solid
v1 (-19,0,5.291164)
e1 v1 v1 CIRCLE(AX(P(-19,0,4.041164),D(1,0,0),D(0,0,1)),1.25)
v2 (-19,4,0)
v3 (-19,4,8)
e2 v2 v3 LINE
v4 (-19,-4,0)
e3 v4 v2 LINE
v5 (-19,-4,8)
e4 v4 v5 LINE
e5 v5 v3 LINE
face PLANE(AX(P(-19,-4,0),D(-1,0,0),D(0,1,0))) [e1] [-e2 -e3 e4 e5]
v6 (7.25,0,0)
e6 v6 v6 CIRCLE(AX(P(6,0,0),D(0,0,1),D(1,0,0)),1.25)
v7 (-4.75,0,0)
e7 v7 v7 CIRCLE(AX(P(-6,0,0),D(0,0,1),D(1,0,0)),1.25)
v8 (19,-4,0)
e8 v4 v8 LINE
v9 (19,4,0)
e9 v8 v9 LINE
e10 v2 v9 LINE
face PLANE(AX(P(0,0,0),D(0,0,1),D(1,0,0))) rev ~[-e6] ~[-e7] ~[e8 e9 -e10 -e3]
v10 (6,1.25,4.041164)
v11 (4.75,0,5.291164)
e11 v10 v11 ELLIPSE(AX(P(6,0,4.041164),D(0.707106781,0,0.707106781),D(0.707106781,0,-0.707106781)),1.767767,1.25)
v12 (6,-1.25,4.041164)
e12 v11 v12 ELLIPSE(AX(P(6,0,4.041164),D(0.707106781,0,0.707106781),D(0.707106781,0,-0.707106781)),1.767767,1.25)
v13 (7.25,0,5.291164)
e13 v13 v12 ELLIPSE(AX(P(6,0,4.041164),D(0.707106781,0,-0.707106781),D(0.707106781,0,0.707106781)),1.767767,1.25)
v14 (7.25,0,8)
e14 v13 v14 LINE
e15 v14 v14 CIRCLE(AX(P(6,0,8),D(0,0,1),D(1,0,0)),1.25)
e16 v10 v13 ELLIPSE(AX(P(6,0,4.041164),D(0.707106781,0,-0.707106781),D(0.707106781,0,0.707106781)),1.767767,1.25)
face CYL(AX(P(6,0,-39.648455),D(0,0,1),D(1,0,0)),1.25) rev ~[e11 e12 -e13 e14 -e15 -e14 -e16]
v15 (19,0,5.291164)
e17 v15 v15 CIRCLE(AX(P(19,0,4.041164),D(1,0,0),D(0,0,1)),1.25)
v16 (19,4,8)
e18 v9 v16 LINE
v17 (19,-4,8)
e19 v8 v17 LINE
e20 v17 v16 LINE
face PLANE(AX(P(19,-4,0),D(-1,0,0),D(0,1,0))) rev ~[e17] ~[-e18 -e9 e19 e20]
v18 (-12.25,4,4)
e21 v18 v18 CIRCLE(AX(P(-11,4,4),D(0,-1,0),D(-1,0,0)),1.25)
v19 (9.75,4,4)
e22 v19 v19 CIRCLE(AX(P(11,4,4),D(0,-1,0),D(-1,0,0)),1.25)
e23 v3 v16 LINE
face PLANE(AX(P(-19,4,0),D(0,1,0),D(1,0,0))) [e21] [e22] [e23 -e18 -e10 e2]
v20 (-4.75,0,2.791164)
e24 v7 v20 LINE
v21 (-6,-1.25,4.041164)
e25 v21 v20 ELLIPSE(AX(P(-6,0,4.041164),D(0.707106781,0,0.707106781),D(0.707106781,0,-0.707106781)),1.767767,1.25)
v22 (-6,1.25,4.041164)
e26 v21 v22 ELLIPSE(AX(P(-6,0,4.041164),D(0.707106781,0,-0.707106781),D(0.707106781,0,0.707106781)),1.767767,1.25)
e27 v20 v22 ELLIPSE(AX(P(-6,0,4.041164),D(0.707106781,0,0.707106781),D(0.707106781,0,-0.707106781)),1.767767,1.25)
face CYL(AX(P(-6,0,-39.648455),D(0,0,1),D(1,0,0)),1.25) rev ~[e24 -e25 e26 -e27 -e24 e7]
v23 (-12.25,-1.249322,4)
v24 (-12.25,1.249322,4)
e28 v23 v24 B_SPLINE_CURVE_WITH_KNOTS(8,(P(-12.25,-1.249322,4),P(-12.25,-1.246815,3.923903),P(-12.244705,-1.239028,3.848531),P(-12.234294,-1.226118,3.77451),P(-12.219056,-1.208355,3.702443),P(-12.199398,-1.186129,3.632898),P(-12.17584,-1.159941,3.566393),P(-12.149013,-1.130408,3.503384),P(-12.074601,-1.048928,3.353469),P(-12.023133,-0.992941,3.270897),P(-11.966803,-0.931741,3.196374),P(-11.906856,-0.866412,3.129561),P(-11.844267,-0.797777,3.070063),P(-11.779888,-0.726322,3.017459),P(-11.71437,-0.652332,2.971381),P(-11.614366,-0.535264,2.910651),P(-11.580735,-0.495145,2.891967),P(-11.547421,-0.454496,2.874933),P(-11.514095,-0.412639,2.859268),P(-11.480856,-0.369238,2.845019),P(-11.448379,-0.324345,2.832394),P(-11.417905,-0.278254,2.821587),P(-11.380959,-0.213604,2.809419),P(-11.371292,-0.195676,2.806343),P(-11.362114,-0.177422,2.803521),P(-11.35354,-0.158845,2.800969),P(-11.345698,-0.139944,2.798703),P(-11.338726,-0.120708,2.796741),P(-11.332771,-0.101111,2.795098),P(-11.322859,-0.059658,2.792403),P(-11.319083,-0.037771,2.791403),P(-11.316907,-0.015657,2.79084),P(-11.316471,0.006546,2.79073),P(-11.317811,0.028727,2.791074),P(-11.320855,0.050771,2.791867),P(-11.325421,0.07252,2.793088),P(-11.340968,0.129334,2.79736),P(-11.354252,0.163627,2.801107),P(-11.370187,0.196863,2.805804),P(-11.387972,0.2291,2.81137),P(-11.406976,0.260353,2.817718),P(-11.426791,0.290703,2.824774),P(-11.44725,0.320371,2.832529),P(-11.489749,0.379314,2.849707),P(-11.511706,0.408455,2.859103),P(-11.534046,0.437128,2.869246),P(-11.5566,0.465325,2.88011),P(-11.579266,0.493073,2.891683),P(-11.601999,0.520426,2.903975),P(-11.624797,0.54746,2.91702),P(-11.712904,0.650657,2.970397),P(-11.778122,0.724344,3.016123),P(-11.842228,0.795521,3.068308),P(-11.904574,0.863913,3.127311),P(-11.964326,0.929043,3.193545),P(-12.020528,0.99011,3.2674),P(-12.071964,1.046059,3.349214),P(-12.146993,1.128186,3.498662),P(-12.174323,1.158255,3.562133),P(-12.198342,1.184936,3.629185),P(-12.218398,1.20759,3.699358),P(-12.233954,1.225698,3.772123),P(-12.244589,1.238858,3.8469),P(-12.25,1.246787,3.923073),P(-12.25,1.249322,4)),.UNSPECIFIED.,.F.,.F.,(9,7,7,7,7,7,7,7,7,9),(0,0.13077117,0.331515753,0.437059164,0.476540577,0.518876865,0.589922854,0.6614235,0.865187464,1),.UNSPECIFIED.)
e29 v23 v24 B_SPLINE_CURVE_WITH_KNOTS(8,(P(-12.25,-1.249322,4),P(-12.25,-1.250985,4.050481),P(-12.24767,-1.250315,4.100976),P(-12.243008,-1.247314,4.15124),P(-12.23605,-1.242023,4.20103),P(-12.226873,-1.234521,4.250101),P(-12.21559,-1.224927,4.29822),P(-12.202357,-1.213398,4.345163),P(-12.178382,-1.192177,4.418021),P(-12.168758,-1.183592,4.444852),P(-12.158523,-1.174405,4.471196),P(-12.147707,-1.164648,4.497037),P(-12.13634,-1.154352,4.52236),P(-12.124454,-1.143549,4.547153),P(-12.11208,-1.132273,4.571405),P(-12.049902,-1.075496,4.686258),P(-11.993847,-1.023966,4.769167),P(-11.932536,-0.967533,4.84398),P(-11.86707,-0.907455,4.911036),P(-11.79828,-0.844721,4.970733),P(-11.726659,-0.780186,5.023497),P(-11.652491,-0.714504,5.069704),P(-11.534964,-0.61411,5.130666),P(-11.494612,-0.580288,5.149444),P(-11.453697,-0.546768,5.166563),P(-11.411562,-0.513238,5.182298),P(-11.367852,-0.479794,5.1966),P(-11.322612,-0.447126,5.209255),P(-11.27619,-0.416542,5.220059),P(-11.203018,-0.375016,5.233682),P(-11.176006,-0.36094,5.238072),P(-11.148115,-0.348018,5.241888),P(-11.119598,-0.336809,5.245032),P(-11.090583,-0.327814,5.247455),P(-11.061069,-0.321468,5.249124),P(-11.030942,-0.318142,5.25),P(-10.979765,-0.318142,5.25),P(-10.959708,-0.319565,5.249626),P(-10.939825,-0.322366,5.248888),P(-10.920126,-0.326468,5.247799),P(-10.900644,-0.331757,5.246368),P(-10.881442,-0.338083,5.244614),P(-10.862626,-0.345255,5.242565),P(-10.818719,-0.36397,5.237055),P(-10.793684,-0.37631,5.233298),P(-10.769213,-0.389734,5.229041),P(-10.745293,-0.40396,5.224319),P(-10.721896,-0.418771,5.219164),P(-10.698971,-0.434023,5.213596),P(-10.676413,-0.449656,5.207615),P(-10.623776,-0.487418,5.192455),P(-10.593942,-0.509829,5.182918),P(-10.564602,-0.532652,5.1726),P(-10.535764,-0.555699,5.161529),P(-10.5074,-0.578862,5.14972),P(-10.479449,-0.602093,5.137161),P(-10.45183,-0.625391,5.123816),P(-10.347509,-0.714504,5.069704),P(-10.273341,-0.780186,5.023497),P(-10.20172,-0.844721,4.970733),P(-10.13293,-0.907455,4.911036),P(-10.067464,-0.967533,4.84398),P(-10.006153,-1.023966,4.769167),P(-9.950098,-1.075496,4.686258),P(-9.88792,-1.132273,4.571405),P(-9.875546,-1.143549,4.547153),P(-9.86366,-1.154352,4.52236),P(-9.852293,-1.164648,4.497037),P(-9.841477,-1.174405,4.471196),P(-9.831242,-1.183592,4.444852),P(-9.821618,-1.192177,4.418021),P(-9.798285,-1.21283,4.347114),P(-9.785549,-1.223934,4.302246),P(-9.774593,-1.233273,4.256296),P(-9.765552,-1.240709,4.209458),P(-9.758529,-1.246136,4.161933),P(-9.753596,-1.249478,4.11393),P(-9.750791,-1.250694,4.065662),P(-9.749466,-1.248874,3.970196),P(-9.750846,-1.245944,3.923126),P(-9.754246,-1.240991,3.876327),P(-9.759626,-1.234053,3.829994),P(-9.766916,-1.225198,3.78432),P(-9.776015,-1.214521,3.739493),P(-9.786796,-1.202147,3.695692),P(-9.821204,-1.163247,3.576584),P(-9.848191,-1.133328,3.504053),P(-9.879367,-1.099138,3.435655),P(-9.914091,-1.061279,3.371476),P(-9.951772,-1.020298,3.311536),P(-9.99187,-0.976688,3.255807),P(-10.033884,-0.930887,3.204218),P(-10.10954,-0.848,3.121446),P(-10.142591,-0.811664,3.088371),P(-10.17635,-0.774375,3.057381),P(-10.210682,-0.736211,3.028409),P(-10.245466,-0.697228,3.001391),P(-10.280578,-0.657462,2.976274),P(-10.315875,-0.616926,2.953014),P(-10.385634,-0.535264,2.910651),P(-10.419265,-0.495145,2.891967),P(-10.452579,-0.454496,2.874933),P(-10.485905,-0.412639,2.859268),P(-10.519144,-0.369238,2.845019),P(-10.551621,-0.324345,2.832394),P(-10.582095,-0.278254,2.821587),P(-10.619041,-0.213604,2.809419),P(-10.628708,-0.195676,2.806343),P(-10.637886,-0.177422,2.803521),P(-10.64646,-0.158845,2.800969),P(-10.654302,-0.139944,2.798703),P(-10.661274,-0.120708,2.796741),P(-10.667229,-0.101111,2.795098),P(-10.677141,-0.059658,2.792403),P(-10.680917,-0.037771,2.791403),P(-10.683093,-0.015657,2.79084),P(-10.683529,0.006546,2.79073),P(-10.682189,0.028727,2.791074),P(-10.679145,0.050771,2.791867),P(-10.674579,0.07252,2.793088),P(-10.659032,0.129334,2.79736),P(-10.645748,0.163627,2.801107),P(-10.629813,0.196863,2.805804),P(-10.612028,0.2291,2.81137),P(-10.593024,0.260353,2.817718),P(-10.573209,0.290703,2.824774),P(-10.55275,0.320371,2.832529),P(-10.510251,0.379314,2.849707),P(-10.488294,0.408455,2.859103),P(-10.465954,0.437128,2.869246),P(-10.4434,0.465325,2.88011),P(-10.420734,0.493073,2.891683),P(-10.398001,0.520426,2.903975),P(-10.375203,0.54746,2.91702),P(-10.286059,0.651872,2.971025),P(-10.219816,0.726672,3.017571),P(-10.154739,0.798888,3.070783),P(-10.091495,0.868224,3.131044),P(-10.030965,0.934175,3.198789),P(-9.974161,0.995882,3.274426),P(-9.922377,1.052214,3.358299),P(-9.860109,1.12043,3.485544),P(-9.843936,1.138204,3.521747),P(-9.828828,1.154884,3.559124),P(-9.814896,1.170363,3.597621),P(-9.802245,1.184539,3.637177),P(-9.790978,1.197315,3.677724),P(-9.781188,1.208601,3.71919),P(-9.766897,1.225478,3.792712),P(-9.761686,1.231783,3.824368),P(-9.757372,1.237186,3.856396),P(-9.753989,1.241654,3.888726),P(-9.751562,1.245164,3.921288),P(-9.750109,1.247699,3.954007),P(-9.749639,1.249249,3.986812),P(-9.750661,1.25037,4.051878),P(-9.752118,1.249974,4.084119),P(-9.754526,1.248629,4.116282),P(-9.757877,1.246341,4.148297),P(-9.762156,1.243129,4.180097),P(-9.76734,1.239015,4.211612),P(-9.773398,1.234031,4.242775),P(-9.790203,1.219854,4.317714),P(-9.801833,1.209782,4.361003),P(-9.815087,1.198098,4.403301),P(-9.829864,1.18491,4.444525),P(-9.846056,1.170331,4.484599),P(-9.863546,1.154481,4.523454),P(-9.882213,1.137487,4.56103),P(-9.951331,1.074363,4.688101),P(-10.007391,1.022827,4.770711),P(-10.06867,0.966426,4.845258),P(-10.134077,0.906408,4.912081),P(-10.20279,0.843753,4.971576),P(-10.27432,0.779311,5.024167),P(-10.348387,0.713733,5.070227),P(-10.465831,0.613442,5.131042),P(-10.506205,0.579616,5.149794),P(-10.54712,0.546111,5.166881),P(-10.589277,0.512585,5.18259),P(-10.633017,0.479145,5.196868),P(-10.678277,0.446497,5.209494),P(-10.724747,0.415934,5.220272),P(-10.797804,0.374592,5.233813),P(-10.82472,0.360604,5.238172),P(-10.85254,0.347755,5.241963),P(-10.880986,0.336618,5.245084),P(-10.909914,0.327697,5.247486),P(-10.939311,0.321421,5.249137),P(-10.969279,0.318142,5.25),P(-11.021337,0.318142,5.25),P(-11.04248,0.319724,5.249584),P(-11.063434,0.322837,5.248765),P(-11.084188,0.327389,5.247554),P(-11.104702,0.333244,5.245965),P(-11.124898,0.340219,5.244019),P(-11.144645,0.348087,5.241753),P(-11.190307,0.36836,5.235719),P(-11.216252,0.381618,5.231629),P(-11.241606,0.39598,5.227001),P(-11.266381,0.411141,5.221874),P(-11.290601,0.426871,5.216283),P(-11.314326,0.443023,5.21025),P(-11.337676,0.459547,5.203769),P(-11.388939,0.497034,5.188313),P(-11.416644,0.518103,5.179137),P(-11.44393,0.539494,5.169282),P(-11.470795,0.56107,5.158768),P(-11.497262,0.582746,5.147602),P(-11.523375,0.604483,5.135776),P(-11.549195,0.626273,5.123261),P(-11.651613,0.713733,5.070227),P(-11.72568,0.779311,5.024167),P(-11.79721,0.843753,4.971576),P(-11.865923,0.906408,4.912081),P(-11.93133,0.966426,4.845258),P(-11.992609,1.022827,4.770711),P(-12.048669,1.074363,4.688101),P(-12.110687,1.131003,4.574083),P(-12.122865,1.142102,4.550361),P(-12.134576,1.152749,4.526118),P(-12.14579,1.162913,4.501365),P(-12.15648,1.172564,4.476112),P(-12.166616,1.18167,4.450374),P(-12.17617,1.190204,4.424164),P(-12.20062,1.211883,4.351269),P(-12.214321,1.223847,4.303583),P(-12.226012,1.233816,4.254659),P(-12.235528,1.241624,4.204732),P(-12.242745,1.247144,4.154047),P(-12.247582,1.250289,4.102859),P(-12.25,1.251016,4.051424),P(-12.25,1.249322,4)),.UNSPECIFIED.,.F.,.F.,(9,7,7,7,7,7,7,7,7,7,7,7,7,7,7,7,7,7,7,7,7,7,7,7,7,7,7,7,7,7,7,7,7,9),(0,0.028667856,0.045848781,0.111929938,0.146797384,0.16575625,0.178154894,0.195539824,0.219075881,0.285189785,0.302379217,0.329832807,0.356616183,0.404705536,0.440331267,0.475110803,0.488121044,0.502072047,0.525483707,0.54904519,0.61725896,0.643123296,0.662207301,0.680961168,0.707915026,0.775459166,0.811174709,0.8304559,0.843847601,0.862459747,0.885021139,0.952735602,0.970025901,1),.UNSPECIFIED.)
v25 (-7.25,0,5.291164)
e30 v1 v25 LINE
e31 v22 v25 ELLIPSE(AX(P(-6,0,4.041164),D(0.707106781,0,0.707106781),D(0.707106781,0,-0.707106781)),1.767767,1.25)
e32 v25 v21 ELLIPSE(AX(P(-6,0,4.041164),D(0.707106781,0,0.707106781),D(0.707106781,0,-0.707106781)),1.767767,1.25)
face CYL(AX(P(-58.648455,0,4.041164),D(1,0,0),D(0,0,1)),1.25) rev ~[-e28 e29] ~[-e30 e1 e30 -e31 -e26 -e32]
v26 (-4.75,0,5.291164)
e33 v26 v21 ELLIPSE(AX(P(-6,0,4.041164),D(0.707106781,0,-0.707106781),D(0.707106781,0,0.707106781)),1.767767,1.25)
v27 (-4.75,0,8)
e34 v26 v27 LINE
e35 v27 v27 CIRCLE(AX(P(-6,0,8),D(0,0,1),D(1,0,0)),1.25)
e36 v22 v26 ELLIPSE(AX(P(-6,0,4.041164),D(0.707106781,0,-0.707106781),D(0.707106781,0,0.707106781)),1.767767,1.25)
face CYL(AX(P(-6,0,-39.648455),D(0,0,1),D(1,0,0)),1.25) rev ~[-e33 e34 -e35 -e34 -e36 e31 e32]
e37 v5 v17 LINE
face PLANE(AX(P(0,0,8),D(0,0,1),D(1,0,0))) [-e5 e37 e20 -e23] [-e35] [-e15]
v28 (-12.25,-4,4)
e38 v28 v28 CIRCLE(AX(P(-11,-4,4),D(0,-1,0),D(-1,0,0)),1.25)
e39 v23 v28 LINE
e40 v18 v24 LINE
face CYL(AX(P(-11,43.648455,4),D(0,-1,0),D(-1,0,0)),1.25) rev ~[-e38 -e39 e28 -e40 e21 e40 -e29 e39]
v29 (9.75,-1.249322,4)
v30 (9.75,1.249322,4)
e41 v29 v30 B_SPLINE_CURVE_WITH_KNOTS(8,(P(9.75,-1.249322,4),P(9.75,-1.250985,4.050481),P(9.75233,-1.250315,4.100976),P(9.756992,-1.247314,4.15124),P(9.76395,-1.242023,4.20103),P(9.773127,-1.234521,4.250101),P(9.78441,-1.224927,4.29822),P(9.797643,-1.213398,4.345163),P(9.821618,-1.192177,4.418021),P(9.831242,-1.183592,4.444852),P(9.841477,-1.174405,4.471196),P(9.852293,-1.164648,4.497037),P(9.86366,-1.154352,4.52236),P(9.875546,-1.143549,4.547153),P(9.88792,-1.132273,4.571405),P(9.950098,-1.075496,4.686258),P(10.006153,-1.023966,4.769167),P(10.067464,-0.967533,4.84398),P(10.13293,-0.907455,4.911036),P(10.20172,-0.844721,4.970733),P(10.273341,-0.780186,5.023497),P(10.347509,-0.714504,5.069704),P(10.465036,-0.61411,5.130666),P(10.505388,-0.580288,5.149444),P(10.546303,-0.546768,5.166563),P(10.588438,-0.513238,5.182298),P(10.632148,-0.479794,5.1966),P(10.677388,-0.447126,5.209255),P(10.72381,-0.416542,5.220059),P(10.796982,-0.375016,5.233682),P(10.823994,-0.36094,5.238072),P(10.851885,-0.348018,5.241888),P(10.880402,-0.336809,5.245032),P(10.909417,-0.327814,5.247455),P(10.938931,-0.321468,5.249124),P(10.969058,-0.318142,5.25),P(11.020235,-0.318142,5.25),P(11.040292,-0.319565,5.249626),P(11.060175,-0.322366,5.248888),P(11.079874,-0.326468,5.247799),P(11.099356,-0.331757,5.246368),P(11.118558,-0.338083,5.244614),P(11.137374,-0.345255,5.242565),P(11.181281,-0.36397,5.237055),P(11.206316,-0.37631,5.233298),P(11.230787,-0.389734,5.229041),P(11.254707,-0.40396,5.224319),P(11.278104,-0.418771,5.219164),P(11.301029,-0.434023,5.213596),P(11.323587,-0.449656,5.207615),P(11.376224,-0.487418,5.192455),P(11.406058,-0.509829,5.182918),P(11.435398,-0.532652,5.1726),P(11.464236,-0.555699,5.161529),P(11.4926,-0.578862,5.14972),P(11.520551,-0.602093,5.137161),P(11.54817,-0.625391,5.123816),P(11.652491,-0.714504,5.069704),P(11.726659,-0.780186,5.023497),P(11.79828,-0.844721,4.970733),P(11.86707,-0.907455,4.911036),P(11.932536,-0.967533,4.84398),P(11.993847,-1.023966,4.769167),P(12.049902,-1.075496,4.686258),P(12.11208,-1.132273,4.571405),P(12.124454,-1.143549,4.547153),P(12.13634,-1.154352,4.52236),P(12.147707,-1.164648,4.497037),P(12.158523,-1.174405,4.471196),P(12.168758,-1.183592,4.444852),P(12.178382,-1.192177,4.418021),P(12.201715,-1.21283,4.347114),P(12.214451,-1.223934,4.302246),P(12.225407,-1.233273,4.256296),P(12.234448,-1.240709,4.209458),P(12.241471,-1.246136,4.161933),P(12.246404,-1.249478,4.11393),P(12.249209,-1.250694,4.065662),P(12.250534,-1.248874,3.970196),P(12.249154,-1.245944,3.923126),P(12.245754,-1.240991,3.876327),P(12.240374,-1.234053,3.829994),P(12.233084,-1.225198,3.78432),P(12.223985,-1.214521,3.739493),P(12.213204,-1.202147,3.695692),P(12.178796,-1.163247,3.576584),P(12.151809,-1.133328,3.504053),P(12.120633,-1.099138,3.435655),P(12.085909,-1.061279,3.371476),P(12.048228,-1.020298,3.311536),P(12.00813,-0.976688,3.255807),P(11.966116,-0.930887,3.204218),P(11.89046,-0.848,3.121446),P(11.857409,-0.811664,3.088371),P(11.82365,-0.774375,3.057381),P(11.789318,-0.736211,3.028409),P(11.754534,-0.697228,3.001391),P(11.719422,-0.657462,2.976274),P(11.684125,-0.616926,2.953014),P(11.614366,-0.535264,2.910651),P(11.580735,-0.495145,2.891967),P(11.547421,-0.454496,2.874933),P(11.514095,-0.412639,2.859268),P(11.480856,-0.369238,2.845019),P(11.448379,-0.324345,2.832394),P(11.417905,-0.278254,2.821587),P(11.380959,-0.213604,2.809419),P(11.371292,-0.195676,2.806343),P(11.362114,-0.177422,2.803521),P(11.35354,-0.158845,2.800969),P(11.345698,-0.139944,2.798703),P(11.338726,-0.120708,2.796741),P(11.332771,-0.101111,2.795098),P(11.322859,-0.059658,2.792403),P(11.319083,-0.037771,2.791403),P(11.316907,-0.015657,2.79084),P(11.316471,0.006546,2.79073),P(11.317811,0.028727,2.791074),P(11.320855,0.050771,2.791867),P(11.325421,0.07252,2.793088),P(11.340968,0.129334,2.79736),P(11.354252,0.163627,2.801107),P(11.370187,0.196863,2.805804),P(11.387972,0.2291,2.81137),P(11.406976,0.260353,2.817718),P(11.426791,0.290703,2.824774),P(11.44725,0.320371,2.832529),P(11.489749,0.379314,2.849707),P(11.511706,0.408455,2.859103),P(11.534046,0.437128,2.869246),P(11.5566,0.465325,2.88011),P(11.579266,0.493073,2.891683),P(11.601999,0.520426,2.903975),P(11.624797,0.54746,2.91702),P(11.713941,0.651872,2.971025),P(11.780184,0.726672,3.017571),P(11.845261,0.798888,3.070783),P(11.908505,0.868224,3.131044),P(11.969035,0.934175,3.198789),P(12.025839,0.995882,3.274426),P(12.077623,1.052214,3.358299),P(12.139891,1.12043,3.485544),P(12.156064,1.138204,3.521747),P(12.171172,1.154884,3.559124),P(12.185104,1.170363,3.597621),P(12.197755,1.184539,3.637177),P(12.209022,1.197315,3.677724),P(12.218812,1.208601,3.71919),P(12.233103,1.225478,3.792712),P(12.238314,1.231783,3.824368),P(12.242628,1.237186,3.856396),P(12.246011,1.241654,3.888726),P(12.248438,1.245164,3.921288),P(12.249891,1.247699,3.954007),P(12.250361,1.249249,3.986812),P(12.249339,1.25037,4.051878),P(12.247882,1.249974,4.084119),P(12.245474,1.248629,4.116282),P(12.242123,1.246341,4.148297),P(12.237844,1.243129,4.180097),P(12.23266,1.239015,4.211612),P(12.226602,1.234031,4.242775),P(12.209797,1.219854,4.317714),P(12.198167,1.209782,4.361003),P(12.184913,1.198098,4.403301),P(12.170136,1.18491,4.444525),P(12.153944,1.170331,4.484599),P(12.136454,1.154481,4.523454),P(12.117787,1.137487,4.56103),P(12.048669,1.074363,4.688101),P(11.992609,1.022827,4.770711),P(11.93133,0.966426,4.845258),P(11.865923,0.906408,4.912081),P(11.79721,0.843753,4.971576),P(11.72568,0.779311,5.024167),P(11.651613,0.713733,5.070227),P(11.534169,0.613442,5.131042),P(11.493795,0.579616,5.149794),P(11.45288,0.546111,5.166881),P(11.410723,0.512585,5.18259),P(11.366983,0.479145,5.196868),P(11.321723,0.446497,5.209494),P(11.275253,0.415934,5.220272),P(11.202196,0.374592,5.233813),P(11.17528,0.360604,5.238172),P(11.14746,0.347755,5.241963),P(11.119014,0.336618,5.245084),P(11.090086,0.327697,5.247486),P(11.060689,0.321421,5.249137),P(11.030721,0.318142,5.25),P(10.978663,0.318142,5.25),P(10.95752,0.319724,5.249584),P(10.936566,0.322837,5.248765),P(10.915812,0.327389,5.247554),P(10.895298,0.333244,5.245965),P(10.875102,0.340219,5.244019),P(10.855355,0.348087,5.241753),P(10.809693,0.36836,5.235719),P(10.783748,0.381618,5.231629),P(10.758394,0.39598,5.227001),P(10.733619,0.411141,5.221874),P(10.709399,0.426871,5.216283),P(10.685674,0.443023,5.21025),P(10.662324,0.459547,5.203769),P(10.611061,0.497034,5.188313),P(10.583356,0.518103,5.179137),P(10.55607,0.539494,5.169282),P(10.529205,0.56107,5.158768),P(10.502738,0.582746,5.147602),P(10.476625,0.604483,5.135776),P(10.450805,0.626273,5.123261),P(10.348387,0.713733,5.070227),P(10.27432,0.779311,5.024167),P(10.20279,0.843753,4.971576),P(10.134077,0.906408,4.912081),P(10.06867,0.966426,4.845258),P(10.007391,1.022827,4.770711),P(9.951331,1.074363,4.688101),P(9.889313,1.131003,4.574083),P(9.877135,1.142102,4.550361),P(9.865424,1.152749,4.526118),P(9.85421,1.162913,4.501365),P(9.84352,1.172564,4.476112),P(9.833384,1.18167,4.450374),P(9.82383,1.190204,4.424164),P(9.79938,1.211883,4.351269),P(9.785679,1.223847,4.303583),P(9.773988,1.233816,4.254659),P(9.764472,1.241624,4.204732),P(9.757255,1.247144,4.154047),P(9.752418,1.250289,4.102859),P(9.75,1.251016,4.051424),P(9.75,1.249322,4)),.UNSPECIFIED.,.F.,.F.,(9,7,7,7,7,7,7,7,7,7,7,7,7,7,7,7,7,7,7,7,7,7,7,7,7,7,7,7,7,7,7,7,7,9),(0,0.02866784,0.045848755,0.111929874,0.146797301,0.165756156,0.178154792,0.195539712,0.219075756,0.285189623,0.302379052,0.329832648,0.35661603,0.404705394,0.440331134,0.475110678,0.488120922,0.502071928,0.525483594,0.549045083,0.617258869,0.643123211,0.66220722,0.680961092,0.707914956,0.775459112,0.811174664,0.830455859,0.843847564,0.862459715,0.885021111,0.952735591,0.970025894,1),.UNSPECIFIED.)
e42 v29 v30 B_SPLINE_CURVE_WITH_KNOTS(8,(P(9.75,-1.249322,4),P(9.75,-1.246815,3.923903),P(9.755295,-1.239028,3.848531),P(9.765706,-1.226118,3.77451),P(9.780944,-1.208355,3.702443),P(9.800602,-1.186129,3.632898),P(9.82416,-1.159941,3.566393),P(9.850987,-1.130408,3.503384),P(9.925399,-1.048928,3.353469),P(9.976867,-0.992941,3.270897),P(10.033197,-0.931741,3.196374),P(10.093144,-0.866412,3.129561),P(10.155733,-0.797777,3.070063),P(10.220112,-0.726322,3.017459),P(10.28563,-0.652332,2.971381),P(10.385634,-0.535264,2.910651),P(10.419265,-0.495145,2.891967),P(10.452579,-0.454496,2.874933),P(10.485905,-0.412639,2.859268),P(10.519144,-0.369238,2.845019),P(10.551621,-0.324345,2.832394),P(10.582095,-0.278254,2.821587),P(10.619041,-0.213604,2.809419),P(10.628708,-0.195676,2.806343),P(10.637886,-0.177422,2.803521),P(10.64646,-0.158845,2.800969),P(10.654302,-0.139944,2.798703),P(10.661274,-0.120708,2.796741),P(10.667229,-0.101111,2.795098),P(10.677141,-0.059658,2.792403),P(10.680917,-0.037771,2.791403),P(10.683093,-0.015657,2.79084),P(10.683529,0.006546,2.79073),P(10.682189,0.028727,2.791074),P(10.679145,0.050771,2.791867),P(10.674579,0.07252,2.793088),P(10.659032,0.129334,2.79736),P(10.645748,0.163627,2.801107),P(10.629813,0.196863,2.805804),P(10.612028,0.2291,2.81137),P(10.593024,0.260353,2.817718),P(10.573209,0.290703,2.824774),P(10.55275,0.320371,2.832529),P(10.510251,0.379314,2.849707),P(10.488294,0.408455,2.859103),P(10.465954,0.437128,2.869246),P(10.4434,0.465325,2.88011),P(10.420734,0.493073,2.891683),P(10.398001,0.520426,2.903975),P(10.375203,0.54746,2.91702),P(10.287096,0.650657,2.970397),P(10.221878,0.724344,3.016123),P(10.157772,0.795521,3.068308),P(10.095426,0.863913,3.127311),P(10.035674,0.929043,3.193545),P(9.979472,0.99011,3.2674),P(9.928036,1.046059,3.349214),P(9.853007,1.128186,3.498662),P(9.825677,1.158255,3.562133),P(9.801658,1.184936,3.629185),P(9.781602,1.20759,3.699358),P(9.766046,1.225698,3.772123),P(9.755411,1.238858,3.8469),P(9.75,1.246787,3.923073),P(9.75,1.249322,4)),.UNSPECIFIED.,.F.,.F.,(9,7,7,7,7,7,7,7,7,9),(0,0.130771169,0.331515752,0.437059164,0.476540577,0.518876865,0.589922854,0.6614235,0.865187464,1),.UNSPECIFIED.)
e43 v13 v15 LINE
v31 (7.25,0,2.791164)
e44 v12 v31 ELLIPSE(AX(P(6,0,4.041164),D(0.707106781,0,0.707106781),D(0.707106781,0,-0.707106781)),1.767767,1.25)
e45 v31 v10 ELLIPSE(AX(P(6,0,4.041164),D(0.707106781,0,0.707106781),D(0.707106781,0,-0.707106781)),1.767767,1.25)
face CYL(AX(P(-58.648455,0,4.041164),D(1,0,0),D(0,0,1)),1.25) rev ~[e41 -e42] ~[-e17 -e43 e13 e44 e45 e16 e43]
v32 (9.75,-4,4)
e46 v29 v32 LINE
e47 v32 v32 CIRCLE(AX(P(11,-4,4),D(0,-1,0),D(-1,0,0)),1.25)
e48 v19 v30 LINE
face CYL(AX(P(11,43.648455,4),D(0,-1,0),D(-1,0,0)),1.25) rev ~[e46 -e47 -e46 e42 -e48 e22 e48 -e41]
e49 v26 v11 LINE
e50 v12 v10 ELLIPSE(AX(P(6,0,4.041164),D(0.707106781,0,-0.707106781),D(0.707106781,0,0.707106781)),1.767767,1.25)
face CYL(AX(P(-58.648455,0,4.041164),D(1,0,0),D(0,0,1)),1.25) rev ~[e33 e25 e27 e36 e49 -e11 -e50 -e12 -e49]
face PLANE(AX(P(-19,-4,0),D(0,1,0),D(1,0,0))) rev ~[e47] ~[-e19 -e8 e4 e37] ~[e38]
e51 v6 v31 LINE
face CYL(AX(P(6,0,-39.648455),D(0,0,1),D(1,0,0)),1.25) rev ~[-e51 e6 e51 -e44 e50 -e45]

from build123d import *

# Parameters (mm, degrees)
SKETCH_1_W         = 38
SKETCH_1_H         = 8
EXTRUDE_1_DEPTH    = 8
HOLE_WIZARD_M3_1_D = 2.5
HOLE_WIZARD_M3_2_D = 2.5
HOLE_WIZARD_M3_3_D = 2.5
HOLE_WIZARD_M3_4_D = 2.5
HOLE_WIZARD_M3_5_D = 2.5


with BuildPart() as part:
    # 草图1 → 凸台-拉伸1 (new body)
    with BuildSketch(Plane.XY):
        Rectangle(SKETCH_1_W, SKETCH_1_H)
    extrude(amount=EXTRUDE_1_DEPTH)

    # M3 螺纹孔的螺纹孔钻头1 (through all)
    with Locations(Plane(origin=(-19, 0, 4.041163571), x_dir=(0, 0, -1), z_dir=(-1, 0, 0))):
        with Locations((0, 0)):
            Hole(HOLE_WIZARD_M3_1_D / 2)

    # M3 螺纹孔的螺纹孔钻头2 (through all)
    with Locations(Plane(origin=(-11, 4, 4), x_dir=(1, 0, 0), z_dir=(0, 1, 0))):
        with Locations((0, 0)):
            Hole(HOLE_WIZARD_M3_2_D / 2)

    # M3 螺纹孔的螺纹孔钻头3 (through all)
    with Locations(Plane(origin=(11, 4, 4), x_dir=(1, 0, 0), z_dir=(0, 1, 0))):
        with Locations((0, 0)):
            Hole(HOLE_WIZARD_M3_3_D / 2)

    # M3 螺纹孔的螺纹孔钻头4 (through all)
    with Locations(Plane(origin=(-6, 0, 0), x_dir=(-1, 0, 0), z_dir=(0, 0, -1))):
        with Locations((0, 0)):
            Hole(HOLE_WIZARD_M3_4_D / 2)

    # M3 螺纹孔的螺纹孔钻头5 (through all)
    with Locations(Plane(origin=(6, 0, 0), x_dir=(-1, 0, 0), z_dir=(0, 0, -1))):
        with Locations((0, 0)):
            Hole(HOLE_WIZARD_M3_5_D / 2)


solid = part.part
